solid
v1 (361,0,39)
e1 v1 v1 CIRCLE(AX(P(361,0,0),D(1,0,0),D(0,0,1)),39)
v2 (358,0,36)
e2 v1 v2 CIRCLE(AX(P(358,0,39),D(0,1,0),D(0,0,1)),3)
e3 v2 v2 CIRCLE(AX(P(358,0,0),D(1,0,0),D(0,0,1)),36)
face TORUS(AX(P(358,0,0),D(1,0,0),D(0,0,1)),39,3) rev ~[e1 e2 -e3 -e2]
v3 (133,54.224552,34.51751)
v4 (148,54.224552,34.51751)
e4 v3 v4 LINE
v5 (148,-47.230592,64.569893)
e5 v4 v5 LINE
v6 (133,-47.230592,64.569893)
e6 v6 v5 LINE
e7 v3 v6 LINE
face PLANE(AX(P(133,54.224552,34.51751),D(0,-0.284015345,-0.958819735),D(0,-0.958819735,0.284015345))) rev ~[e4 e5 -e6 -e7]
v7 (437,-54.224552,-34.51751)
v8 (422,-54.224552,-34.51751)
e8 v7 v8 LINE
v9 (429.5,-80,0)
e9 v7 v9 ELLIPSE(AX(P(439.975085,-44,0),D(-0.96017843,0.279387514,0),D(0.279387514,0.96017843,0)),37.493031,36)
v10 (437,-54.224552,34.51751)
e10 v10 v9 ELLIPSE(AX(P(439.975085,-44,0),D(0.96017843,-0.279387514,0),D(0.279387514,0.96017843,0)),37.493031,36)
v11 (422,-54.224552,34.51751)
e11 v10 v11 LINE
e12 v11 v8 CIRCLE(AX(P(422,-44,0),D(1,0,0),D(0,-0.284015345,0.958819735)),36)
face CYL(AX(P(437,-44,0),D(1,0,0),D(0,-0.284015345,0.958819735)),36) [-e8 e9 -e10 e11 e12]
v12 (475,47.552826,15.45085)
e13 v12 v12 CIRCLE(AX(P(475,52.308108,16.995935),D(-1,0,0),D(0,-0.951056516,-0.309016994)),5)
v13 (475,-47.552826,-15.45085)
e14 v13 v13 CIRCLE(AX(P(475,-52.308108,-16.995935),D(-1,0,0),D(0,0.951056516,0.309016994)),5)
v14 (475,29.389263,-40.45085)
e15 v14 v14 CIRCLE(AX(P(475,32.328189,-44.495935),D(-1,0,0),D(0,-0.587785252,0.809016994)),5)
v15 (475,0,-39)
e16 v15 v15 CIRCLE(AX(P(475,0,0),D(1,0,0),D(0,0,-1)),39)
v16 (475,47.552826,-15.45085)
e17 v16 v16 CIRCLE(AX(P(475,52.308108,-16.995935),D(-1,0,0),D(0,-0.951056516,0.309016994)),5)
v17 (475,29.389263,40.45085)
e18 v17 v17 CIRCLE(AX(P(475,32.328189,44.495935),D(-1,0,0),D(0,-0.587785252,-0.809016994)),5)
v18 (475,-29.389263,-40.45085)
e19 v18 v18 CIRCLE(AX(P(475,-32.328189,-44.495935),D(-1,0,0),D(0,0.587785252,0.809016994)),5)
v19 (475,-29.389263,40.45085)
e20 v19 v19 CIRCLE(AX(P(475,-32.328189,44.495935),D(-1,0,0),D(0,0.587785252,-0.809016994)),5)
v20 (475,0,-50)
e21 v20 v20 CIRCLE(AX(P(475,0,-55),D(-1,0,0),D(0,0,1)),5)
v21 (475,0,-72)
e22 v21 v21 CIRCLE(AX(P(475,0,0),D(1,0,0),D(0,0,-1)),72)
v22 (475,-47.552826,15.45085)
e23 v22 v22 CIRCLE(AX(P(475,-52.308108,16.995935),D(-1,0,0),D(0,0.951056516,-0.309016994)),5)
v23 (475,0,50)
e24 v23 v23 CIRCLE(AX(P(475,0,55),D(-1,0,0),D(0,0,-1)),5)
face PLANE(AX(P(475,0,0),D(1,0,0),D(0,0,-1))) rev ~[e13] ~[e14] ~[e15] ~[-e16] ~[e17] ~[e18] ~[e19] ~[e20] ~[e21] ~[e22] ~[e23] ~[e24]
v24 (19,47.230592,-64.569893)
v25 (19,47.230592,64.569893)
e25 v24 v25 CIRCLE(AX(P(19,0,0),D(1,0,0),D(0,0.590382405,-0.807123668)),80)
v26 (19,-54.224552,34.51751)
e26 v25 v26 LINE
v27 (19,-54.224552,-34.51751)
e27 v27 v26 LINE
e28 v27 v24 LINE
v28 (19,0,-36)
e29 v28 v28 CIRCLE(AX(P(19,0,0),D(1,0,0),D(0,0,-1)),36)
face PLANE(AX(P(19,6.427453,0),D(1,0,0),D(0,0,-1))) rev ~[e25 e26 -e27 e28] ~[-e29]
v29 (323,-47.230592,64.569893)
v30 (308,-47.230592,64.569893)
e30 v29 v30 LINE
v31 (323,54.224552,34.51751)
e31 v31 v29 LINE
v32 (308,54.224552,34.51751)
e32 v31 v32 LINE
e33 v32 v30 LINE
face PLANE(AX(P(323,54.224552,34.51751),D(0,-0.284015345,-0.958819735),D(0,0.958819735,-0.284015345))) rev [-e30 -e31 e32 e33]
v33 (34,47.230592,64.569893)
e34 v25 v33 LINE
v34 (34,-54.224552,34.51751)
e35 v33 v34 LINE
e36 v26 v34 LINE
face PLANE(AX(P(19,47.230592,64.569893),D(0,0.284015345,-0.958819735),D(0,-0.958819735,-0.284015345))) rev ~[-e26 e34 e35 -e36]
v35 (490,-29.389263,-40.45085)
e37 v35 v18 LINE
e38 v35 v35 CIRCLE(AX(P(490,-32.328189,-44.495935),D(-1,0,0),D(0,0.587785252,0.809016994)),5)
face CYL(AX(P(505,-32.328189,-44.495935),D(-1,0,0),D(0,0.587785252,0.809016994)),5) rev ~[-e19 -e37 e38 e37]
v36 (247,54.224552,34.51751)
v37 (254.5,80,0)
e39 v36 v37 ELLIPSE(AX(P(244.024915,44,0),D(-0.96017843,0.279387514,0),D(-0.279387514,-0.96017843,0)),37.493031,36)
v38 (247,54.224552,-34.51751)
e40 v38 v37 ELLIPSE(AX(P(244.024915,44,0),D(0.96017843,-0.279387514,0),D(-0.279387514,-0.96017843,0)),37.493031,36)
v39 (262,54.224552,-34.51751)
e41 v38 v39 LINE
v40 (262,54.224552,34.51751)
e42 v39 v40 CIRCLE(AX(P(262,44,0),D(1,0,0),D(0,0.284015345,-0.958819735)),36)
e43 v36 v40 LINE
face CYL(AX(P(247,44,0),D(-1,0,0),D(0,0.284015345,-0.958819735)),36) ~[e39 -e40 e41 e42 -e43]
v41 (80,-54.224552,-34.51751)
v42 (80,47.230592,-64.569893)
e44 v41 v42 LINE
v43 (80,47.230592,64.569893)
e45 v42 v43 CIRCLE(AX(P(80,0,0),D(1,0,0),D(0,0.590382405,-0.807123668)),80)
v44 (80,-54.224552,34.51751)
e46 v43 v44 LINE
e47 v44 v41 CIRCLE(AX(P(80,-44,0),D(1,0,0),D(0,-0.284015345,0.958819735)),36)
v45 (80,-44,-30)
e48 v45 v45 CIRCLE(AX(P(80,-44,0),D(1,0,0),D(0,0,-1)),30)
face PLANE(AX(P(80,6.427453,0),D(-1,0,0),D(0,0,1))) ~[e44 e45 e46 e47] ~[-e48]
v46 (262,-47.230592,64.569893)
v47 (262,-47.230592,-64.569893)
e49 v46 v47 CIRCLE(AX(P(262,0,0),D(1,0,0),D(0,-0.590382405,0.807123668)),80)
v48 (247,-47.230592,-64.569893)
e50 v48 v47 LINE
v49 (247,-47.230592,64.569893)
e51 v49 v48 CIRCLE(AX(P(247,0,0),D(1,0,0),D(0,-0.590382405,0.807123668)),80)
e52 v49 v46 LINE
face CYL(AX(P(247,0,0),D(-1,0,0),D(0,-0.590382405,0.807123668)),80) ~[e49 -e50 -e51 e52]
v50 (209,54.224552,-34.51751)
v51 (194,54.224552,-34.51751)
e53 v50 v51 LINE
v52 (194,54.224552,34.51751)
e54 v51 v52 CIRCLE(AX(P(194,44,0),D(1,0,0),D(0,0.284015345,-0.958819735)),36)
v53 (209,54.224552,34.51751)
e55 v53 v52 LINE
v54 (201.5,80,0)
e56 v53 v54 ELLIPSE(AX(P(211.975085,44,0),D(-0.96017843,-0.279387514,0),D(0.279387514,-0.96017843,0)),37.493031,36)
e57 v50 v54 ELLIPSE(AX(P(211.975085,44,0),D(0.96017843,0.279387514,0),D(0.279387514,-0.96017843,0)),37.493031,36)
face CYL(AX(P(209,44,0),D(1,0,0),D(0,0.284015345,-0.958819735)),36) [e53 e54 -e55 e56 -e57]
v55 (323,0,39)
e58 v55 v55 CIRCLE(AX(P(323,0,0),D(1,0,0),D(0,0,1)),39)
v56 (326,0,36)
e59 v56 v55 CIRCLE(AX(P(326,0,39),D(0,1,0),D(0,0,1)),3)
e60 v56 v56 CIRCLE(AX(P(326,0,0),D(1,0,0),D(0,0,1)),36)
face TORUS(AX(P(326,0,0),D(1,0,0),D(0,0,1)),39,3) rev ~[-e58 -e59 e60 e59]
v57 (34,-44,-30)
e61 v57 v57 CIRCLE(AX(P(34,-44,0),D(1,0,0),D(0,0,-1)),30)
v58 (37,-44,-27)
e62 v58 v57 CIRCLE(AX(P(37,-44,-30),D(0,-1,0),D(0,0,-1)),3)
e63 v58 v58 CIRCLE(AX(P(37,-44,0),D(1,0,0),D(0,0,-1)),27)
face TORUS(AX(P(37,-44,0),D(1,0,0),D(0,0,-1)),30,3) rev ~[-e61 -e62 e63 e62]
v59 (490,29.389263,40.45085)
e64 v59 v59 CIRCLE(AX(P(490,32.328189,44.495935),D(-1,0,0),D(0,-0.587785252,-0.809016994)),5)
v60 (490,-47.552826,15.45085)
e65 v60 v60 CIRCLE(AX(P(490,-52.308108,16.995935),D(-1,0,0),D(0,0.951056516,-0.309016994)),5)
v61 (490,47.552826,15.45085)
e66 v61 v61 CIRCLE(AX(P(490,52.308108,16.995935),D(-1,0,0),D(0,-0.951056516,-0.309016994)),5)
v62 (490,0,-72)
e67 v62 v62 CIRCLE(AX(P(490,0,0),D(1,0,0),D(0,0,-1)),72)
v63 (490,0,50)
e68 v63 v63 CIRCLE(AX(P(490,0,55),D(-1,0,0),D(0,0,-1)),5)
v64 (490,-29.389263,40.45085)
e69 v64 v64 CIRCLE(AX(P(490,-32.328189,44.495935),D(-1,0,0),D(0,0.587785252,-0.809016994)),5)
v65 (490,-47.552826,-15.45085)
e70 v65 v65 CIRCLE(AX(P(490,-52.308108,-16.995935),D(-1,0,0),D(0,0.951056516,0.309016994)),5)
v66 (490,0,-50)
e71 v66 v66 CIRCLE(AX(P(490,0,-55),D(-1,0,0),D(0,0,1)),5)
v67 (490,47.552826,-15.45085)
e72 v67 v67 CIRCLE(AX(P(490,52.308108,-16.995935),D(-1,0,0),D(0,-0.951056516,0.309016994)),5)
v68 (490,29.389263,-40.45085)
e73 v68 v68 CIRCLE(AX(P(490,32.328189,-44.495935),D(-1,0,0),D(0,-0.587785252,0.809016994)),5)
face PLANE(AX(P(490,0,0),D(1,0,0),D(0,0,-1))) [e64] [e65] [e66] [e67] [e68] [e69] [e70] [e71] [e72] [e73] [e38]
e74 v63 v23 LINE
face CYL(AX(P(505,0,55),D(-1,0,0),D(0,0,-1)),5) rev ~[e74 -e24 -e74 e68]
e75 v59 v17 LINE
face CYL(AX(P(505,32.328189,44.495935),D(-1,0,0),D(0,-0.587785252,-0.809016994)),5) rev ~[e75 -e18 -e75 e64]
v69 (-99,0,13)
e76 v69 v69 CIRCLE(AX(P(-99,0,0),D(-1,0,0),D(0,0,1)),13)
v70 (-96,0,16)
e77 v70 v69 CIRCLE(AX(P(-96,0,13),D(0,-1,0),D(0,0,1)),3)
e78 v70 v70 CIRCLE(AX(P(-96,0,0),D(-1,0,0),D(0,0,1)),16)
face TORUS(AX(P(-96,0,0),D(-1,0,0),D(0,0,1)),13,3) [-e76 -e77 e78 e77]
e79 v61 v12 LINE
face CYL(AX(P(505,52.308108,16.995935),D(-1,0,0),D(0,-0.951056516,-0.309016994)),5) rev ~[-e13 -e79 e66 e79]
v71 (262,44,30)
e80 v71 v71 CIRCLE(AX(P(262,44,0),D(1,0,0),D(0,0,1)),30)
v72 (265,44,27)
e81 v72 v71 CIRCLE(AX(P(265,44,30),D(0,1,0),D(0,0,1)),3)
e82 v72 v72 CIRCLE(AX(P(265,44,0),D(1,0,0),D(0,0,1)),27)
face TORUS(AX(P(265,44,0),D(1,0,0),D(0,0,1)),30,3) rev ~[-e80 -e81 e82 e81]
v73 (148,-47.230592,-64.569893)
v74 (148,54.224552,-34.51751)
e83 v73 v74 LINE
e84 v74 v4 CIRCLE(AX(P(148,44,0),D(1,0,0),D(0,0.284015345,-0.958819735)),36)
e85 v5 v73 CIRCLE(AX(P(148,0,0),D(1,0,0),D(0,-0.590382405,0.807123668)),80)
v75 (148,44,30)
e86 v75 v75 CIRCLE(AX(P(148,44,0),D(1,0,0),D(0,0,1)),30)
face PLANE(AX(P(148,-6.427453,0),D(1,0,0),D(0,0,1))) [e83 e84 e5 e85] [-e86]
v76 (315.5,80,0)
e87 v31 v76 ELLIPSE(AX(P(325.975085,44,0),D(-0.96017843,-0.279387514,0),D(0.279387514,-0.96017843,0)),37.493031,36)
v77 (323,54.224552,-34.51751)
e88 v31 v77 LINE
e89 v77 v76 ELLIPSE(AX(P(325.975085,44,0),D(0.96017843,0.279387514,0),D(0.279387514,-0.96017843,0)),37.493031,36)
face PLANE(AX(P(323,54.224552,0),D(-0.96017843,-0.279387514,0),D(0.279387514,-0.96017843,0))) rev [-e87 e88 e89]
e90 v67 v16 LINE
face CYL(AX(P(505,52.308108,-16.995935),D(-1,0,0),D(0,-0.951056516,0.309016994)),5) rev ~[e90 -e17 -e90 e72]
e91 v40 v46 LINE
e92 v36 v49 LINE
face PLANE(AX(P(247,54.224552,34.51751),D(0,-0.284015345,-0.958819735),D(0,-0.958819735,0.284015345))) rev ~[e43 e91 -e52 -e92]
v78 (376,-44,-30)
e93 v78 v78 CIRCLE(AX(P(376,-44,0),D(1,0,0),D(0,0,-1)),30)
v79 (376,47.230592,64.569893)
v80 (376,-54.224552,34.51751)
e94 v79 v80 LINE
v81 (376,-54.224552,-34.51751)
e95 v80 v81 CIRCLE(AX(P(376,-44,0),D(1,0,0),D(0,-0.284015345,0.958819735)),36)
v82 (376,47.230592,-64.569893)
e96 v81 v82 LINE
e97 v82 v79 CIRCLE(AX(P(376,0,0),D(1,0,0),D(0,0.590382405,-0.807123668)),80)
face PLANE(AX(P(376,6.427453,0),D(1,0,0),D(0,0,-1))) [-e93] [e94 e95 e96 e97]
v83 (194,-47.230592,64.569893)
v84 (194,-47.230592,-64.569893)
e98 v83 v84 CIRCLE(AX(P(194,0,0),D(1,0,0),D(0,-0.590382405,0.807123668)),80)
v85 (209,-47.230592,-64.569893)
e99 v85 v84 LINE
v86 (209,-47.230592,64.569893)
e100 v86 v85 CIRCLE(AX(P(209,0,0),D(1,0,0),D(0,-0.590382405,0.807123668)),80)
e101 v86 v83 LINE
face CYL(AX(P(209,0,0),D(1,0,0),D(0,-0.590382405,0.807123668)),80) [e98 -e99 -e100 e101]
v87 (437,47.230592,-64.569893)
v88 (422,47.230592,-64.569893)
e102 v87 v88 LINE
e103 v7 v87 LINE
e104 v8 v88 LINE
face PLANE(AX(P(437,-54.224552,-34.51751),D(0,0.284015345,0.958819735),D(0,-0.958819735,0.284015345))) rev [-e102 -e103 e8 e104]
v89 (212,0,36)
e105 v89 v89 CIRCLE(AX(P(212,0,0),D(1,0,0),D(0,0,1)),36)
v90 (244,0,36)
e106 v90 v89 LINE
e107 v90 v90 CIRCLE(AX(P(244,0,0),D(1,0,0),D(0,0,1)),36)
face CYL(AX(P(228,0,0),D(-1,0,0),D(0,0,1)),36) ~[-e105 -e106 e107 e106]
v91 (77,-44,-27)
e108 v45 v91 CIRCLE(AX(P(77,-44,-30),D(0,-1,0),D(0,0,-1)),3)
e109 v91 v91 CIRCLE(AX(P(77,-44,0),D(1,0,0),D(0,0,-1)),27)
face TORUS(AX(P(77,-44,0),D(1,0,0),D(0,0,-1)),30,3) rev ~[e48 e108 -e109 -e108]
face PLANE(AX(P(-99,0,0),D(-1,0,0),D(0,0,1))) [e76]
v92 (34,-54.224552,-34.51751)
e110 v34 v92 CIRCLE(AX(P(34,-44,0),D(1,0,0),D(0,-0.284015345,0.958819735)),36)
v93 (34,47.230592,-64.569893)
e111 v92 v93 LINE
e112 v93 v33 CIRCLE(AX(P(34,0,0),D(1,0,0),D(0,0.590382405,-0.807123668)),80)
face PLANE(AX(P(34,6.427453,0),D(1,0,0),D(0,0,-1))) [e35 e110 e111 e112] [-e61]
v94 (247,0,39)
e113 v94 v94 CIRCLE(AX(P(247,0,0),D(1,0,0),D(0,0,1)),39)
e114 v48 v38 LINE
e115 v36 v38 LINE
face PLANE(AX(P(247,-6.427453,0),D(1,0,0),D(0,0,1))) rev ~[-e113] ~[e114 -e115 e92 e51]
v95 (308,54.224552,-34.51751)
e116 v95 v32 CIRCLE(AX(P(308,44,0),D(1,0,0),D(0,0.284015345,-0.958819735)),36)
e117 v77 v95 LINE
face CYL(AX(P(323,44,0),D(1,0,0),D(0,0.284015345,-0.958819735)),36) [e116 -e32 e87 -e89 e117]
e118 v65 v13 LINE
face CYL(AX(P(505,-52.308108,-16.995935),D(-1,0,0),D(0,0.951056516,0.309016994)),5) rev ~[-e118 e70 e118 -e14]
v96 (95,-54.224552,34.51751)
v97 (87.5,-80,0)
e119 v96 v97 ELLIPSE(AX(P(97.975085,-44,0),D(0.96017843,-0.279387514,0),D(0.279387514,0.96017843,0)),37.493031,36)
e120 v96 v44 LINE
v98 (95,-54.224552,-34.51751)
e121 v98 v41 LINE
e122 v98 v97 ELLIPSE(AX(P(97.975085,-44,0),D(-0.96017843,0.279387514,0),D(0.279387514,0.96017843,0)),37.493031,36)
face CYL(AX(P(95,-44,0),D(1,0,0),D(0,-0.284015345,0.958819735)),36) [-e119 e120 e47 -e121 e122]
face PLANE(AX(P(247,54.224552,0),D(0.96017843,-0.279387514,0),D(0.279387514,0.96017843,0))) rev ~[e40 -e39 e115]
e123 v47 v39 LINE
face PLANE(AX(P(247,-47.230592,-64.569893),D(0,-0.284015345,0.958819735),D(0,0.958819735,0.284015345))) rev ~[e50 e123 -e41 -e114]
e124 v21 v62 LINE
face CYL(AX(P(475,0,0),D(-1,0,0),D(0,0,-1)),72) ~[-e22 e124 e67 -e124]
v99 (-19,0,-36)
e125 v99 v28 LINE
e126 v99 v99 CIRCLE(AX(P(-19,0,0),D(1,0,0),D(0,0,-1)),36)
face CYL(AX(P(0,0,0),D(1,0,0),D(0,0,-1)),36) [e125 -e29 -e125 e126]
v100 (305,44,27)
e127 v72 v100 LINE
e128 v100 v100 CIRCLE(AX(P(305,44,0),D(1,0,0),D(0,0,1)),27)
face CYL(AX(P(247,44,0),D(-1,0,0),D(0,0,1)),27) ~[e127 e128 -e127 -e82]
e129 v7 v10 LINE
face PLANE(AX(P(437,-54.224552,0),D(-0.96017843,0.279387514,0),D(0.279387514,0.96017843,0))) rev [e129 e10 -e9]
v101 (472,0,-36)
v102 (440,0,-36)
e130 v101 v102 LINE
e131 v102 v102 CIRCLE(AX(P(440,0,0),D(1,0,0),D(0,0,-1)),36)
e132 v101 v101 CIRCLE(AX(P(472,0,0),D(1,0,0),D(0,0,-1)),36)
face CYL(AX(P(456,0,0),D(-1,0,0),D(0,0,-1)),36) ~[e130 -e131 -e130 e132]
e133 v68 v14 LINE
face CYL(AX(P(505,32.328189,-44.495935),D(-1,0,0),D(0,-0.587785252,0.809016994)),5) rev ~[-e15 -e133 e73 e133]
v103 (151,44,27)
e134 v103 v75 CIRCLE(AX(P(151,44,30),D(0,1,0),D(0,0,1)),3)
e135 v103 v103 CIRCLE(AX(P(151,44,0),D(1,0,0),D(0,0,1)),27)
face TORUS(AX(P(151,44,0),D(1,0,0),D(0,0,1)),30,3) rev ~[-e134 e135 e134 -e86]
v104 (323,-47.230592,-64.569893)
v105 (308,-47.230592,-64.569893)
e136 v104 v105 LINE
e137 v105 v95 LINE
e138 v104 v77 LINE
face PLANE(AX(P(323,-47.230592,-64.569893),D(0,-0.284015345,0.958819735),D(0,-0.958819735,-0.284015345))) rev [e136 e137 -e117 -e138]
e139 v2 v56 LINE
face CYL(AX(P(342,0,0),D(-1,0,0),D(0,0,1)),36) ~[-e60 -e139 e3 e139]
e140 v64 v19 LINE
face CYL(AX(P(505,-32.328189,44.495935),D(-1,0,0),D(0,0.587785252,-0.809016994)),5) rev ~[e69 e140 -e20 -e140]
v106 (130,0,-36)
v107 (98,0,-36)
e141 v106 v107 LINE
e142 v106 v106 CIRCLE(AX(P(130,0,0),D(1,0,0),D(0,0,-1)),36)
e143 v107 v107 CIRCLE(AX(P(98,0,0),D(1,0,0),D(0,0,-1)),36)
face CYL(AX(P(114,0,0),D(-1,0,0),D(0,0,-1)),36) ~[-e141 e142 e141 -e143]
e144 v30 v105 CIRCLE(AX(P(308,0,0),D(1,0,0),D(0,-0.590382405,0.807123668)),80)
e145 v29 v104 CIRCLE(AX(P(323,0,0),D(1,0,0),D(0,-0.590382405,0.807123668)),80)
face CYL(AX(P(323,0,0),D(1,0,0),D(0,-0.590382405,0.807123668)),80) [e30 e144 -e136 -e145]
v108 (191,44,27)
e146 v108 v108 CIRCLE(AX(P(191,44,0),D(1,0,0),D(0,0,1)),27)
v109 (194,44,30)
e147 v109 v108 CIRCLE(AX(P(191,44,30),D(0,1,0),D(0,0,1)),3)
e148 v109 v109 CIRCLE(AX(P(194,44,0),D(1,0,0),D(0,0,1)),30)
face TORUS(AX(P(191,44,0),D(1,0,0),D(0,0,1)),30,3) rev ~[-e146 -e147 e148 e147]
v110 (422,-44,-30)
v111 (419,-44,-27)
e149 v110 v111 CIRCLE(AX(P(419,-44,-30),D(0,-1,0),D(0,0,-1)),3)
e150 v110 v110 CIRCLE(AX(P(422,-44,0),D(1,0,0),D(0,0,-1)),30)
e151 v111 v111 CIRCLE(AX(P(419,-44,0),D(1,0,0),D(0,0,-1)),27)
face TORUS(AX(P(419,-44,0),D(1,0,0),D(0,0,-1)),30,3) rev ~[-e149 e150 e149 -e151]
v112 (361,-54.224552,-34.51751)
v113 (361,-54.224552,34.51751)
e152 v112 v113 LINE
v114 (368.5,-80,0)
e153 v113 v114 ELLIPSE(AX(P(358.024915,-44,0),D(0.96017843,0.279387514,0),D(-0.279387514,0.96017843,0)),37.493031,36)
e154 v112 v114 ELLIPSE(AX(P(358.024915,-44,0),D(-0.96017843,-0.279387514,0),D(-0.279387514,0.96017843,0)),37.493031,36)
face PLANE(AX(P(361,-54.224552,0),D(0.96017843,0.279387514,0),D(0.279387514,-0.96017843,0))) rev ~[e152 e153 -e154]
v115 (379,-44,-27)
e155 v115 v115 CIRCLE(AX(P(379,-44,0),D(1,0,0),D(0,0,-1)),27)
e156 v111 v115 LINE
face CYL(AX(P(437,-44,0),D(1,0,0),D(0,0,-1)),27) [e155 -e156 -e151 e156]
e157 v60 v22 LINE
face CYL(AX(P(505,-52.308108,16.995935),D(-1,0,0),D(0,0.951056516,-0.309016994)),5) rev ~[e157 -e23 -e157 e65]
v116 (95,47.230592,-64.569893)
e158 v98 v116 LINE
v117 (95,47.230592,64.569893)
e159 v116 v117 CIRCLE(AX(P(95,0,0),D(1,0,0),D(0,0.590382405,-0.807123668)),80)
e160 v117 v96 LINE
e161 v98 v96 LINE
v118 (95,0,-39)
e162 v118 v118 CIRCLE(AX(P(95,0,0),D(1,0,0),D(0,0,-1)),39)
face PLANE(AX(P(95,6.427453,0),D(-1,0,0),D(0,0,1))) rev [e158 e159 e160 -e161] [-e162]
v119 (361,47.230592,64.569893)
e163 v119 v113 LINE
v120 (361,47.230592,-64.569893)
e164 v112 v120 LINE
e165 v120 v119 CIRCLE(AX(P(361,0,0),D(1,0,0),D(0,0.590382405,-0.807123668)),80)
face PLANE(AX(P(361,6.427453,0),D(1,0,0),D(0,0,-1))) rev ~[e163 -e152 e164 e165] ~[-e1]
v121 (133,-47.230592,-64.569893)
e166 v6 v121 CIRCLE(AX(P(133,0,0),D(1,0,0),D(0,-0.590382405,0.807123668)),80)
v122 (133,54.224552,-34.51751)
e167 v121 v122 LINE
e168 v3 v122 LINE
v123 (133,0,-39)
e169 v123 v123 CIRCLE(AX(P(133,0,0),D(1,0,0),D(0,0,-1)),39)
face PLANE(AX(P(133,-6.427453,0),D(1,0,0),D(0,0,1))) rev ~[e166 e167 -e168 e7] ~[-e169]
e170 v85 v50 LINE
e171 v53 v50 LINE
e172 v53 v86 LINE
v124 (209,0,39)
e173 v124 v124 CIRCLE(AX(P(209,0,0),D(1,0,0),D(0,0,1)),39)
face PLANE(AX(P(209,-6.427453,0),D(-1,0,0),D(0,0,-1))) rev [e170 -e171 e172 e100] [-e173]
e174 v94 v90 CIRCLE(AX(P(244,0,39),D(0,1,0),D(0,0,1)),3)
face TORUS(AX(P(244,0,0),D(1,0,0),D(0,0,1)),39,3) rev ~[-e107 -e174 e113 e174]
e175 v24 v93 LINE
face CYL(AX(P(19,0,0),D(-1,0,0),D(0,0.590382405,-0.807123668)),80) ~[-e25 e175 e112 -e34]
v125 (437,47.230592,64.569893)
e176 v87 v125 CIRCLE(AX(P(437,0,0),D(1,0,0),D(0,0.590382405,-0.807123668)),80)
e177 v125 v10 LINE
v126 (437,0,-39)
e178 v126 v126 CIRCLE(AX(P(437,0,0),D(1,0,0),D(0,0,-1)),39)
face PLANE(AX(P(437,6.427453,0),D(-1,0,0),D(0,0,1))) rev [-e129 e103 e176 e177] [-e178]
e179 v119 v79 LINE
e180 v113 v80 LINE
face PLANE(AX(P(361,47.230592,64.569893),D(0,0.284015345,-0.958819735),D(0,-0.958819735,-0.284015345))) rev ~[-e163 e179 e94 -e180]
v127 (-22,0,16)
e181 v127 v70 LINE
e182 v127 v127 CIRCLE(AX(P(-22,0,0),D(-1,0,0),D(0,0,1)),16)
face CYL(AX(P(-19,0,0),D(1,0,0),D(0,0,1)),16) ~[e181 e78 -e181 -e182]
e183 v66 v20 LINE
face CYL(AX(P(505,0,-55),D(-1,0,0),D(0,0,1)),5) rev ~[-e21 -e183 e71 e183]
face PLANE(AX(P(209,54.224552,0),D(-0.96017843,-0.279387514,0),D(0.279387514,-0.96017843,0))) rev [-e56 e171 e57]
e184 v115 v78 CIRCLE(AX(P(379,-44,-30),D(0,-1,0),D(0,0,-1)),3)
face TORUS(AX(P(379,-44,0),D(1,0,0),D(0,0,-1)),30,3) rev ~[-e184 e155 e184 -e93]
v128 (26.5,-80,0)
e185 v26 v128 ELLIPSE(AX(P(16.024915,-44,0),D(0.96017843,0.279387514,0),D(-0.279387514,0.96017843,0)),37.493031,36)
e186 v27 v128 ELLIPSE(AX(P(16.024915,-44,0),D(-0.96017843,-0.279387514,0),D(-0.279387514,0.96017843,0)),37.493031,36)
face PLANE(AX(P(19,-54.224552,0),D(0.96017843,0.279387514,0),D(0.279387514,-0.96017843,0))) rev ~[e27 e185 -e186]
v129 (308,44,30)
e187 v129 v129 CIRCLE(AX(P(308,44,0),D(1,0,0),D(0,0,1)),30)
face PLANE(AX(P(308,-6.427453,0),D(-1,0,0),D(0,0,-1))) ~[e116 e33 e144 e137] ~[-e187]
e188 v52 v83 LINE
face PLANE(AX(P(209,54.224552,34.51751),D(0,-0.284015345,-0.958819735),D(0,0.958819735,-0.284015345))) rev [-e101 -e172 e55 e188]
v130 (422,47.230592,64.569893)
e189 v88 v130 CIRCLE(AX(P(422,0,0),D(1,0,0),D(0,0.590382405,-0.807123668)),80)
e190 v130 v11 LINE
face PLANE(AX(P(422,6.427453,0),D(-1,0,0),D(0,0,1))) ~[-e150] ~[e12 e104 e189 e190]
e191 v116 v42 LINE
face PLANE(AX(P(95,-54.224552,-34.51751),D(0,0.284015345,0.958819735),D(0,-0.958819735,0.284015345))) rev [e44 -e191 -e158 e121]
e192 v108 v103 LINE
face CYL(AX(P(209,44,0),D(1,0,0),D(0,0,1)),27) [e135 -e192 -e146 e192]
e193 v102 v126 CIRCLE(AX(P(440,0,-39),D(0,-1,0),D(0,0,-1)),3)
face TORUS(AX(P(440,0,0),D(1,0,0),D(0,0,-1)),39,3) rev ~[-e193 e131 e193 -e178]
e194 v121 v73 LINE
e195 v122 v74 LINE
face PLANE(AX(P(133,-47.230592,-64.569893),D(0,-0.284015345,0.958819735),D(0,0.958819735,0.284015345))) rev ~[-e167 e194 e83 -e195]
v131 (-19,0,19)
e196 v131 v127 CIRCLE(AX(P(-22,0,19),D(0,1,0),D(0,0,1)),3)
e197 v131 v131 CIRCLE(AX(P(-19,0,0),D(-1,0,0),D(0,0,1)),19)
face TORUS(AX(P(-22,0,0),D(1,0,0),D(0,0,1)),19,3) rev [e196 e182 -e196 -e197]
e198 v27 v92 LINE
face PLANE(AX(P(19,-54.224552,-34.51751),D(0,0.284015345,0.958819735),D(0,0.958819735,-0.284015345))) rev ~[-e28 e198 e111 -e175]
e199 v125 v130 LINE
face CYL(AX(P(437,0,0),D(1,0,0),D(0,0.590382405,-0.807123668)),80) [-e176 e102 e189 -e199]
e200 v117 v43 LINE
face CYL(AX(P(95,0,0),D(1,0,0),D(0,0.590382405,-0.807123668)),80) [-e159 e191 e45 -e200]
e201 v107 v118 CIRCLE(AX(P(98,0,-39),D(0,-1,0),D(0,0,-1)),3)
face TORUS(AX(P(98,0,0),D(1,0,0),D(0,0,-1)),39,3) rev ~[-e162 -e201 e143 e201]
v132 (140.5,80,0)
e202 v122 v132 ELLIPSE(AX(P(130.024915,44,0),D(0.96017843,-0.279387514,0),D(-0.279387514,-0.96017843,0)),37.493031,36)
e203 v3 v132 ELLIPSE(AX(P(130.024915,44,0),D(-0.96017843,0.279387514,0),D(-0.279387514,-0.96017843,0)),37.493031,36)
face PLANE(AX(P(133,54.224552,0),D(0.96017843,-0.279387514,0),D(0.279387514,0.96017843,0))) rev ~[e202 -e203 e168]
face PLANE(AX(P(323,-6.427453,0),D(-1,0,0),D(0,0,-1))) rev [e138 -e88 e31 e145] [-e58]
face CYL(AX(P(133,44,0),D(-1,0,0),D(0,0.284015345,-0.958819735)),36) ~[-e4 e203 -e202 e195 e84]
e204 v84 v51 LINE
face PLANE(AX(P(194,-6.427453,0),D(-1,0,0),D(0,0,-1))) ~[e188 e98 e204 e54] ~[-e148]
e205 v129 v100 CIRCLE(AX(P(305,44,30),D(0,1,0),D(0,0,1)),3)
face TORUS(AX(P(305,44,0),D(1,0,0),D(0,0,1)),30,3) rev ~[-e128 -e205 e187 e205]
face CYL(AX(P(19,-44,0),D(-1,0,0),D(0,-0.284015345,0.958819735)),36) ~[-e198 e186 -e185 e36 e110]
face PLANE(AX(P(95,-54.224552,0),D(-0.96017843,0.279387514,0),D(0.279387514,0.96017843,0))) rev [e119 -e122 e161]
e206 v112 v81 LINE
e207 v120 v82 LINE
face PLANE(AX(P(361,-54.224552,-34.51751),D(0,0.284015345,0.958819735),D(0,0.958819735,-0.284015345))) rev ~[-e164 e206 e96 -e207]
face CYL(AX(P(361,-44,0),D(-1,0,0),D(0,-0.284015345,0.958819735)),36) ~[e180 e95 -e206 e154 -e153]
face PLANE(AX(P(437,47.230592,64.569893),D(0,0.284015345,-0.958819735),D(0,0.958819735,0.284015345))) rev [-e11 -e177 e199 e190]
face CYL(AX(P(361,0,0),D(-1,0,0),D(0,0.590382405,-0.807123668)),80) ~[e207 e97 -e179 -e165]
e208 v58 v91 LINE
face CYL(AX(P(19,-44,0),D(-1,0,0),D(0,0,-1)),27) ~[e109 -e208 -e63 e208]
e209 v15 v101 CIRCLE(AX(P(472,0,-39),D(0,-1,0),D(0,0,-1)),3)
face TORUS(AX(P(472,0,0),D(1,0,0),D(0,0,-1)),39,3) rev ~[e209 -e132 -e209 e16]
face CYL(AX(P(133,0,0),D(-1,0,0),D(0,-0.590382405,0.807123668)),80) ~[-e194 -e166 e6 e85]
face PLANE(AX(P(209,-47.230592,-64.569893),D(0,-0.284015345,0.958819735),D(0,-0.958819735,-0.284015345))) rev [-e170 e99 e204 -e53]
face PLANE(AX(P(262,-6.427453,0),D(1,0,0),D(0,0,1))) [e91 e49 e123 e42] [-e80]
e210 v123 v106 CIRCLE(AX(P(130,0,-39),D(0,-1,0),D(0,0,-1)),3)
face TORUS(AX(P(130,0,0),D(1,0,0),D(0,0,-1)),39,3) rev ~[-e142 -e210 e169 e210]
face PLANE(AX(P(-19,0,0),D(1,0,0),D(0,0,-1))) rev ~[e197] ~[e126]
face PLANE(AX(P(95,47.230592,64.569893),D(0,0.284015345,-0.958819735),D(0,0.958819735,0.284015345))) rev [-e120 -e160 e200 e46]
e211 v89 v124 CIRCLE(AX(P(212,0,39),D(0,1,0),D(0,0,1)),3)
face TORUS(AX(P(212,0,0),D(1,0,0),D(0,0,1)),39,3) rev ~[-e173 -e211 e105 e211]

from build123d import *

# Parameters (mm, degrees)
SKETCH1_R                  = 36
BOSS_EXTRUDE1_DEPTH        = 19
SKETCH2_R                  = 27
BOSS_EXTRUDE2_DEPTH        = 15
SKETCH2_2_R                = 27
BOSS_EXTRUDE3_DEPTH        = 61
CUT_EXTRUDE1_DEPTH         = 65.569893475
CUT_EXTRUDE1_DEPTH_BACK    = 65.569893475
BODY_MOVE_COPY1_ANGLE      = 180
SKETCH4_R                  = 16
BOSS_EXTRUDE4_DEPTH        = 80
SKETCH5_R                  = 72
BOSS_EXTRUDE5_DEPTH        = 15
F_10_0MM_DOWEL_HOLE2_D     = 10
F_10_0MM_DOWEL_HOLE2_DEPTH = 15
CIRPATTERN3_COUNT          = 10
FILLET1_R                  = 3


with BuildPart() as part:
    # Sketch1 → Boss-Extrude1 (new body, symmetric)
    with BuildSketch(Plane(origin=(0, 0, 0), x_dir=(0, 0, -1), z_dir=(1, 0, 0))):
        Circle(SKETCH1_R)
    extrude(amount=BOSS_EXTRUDE1_DEPTH, both=True)

    # Sketch2 → Boss-Extrude2 (add)
    with BuildSketch(Plane(origin=(19, 0, 0), x_dir=(0, 0, -1), z_dir=(1, 0, 0))):
        with BuildLine():
            Line((-64.569893475, 47.23059238), (-34.517510455, -54.224552409))
            ThreePointArc((-34.517510455, -54.224552409), (0, -80), (34.517510455, -54.224552409))
            Line((34.517510455, -54.224552409), (64.569893475, 47.23059238))
            ThreePointArc((64.569893475, 47.23059238), (0, 80), (-64.569893475, 47.23059238))
        make_face()
        with Locations((0, -44)):
            Circle(SKETCH2_R, mode=Mode.SUBTRACT)
    extrude(amount=BOSS_EXTRUDE2_DEPTH)

    # Sketch2_2 → Boss-Extrude3 (add)
    with BuildSketch(Plane(origin=(19, 0, 0), x_dir=(0, 0, -1), z_dir=(1, 0, 0))):
        with Locations((0, -44)):
            Circle(SKETCH2_2_R)
    extrude(amount=BOSS_EXTRUDE3_DEPTH)

    # Sketch3 → Cut-Extrude1 (cut, two sides)
    with BuildSketch(Plane.XY) as cut_extrude1_sk:
        Polygon((19, -54.224552409), (26.5, -80), (19, -80), align=None)
    extrude(amount=CUT_EXTRUDE1_DEPTH, mode=Mode.SUBTRACT)
    extrude(cut_extrude1_sk.sketch, amount=-CUT_EXTRUDE1_DEPTH_BACK, mode=Mode.SUBTRACT)

    # Mirror4: part across plane


with BuildPart() as part_1:
    add(part.part)
    add(part.part.mirror(Plane(origin=(57, 0, 0), x_dir=(0, 0, 1), z_dir=(1, 0, 0))))


with BuildPart() as body_2:
    # Mirror5: mirrored copy
    add(part_1.part.mirror(Plane(origin=(114, 0, 0), x_dir=(0, 0, 1), z_dir=(1, 0, 0))))


with BuildPart() as body_2_1:
    # Body-Move_Copy1: moved
    add(body_2.part.rotate(Axis((0, 0, 0), (1, 0, 0)), BODY_MOVE_COPY1_ANGLE))


with BuildPart() as body_3:
    # Mirror6: mirrored copy
    add(part_1.part.mirror(Plane(origin=(228, 0, 0), x_dir=(0, 0, 1), z_dir=(1, 0, 0))))


with BuildPart() as body_4:
    # Mirror6 2: mirrored copy
    add(body_2_1.part.mirror(Plane(origin=(228, 0, 0), x_dir=(0, 0, 1), z_dir=(1, 0, 0))))


with BuildPart() as part_2:
    add(part_1.part)

    # Combine1: union body 2, body 4, body 3
    add(body_2_1.part)
    add(body_4.part)
    add(body_3.part)

    # Sketch4 → Boss-Extrude4 (add)
    with BuildSketch(Plane.ZY.offset(19)):
        Circle(SKETCH4_R)
    extrude(amount=BOSS_EXTRUDE4_DEPTH)

    # Sketch5 → Boss-Extrude5 (add)
    with BuildSketch(Plane(origin=(475, 0, 0), x_dir=(0, 0, -1), z_dir=(1, 0, 0))):
        Circle(SKETCH5_R)
    extrude(amount=BOSS_EXTRUDE5_DEPTH)

    # 10.0mm Dowel Hole2
    with Locations(Plane(origin=(490, 0, 0), x_dir=(0, 0, -1), z_dir=(1, 0, 0))):
        with Locations((55, 0)):
            f_10_0mm_dowel_hole2 = Hole(F_10_0MM_DOWEL_HOLE2_D / 2, depth=F_10_0MM_DOWEL_HOLE2_DEPTH)

    # CirPattern3: 10.0mm Dowel Hole2 ×10 about axis
    cirpattern3_axis = Axis((0, 0, 0), (1, 0, 0))
    for i in range(1, CIRPATTERN3_COUNT):
        add(f_10_0mm_dowel_hole2.rotate(cirpattern3_axis, i * 360 / CIRPATTERN3_COUNT), mode=Mode.SUBTRACT)

    # Fillet1
    fillet1_edges = [part_2.edges().sort_by_distance(p)[0] for p in [
        (34, -44, 27),
        (-19, 0, -16),
        (-99, 0, -16),
        (80, -44, 27),
        (95, 0, 36),
        (133, 0, 36),
        (209, 0, -36),
        (194, 44, -27),
        (148, 44, -27),
        (247, 0, -36),
        (262, 44, -27),
        (323, 0, -36),
        (308, 44, -27),
        (437, 0, 36),
        (475, 0, 36),
        (422, -44, 27),
        (376, -44, 27),
        (361, 0, -36),
    ]]
    fillet(fillet1_edges, radius=FILLET1_R)


solid = part_2.part
